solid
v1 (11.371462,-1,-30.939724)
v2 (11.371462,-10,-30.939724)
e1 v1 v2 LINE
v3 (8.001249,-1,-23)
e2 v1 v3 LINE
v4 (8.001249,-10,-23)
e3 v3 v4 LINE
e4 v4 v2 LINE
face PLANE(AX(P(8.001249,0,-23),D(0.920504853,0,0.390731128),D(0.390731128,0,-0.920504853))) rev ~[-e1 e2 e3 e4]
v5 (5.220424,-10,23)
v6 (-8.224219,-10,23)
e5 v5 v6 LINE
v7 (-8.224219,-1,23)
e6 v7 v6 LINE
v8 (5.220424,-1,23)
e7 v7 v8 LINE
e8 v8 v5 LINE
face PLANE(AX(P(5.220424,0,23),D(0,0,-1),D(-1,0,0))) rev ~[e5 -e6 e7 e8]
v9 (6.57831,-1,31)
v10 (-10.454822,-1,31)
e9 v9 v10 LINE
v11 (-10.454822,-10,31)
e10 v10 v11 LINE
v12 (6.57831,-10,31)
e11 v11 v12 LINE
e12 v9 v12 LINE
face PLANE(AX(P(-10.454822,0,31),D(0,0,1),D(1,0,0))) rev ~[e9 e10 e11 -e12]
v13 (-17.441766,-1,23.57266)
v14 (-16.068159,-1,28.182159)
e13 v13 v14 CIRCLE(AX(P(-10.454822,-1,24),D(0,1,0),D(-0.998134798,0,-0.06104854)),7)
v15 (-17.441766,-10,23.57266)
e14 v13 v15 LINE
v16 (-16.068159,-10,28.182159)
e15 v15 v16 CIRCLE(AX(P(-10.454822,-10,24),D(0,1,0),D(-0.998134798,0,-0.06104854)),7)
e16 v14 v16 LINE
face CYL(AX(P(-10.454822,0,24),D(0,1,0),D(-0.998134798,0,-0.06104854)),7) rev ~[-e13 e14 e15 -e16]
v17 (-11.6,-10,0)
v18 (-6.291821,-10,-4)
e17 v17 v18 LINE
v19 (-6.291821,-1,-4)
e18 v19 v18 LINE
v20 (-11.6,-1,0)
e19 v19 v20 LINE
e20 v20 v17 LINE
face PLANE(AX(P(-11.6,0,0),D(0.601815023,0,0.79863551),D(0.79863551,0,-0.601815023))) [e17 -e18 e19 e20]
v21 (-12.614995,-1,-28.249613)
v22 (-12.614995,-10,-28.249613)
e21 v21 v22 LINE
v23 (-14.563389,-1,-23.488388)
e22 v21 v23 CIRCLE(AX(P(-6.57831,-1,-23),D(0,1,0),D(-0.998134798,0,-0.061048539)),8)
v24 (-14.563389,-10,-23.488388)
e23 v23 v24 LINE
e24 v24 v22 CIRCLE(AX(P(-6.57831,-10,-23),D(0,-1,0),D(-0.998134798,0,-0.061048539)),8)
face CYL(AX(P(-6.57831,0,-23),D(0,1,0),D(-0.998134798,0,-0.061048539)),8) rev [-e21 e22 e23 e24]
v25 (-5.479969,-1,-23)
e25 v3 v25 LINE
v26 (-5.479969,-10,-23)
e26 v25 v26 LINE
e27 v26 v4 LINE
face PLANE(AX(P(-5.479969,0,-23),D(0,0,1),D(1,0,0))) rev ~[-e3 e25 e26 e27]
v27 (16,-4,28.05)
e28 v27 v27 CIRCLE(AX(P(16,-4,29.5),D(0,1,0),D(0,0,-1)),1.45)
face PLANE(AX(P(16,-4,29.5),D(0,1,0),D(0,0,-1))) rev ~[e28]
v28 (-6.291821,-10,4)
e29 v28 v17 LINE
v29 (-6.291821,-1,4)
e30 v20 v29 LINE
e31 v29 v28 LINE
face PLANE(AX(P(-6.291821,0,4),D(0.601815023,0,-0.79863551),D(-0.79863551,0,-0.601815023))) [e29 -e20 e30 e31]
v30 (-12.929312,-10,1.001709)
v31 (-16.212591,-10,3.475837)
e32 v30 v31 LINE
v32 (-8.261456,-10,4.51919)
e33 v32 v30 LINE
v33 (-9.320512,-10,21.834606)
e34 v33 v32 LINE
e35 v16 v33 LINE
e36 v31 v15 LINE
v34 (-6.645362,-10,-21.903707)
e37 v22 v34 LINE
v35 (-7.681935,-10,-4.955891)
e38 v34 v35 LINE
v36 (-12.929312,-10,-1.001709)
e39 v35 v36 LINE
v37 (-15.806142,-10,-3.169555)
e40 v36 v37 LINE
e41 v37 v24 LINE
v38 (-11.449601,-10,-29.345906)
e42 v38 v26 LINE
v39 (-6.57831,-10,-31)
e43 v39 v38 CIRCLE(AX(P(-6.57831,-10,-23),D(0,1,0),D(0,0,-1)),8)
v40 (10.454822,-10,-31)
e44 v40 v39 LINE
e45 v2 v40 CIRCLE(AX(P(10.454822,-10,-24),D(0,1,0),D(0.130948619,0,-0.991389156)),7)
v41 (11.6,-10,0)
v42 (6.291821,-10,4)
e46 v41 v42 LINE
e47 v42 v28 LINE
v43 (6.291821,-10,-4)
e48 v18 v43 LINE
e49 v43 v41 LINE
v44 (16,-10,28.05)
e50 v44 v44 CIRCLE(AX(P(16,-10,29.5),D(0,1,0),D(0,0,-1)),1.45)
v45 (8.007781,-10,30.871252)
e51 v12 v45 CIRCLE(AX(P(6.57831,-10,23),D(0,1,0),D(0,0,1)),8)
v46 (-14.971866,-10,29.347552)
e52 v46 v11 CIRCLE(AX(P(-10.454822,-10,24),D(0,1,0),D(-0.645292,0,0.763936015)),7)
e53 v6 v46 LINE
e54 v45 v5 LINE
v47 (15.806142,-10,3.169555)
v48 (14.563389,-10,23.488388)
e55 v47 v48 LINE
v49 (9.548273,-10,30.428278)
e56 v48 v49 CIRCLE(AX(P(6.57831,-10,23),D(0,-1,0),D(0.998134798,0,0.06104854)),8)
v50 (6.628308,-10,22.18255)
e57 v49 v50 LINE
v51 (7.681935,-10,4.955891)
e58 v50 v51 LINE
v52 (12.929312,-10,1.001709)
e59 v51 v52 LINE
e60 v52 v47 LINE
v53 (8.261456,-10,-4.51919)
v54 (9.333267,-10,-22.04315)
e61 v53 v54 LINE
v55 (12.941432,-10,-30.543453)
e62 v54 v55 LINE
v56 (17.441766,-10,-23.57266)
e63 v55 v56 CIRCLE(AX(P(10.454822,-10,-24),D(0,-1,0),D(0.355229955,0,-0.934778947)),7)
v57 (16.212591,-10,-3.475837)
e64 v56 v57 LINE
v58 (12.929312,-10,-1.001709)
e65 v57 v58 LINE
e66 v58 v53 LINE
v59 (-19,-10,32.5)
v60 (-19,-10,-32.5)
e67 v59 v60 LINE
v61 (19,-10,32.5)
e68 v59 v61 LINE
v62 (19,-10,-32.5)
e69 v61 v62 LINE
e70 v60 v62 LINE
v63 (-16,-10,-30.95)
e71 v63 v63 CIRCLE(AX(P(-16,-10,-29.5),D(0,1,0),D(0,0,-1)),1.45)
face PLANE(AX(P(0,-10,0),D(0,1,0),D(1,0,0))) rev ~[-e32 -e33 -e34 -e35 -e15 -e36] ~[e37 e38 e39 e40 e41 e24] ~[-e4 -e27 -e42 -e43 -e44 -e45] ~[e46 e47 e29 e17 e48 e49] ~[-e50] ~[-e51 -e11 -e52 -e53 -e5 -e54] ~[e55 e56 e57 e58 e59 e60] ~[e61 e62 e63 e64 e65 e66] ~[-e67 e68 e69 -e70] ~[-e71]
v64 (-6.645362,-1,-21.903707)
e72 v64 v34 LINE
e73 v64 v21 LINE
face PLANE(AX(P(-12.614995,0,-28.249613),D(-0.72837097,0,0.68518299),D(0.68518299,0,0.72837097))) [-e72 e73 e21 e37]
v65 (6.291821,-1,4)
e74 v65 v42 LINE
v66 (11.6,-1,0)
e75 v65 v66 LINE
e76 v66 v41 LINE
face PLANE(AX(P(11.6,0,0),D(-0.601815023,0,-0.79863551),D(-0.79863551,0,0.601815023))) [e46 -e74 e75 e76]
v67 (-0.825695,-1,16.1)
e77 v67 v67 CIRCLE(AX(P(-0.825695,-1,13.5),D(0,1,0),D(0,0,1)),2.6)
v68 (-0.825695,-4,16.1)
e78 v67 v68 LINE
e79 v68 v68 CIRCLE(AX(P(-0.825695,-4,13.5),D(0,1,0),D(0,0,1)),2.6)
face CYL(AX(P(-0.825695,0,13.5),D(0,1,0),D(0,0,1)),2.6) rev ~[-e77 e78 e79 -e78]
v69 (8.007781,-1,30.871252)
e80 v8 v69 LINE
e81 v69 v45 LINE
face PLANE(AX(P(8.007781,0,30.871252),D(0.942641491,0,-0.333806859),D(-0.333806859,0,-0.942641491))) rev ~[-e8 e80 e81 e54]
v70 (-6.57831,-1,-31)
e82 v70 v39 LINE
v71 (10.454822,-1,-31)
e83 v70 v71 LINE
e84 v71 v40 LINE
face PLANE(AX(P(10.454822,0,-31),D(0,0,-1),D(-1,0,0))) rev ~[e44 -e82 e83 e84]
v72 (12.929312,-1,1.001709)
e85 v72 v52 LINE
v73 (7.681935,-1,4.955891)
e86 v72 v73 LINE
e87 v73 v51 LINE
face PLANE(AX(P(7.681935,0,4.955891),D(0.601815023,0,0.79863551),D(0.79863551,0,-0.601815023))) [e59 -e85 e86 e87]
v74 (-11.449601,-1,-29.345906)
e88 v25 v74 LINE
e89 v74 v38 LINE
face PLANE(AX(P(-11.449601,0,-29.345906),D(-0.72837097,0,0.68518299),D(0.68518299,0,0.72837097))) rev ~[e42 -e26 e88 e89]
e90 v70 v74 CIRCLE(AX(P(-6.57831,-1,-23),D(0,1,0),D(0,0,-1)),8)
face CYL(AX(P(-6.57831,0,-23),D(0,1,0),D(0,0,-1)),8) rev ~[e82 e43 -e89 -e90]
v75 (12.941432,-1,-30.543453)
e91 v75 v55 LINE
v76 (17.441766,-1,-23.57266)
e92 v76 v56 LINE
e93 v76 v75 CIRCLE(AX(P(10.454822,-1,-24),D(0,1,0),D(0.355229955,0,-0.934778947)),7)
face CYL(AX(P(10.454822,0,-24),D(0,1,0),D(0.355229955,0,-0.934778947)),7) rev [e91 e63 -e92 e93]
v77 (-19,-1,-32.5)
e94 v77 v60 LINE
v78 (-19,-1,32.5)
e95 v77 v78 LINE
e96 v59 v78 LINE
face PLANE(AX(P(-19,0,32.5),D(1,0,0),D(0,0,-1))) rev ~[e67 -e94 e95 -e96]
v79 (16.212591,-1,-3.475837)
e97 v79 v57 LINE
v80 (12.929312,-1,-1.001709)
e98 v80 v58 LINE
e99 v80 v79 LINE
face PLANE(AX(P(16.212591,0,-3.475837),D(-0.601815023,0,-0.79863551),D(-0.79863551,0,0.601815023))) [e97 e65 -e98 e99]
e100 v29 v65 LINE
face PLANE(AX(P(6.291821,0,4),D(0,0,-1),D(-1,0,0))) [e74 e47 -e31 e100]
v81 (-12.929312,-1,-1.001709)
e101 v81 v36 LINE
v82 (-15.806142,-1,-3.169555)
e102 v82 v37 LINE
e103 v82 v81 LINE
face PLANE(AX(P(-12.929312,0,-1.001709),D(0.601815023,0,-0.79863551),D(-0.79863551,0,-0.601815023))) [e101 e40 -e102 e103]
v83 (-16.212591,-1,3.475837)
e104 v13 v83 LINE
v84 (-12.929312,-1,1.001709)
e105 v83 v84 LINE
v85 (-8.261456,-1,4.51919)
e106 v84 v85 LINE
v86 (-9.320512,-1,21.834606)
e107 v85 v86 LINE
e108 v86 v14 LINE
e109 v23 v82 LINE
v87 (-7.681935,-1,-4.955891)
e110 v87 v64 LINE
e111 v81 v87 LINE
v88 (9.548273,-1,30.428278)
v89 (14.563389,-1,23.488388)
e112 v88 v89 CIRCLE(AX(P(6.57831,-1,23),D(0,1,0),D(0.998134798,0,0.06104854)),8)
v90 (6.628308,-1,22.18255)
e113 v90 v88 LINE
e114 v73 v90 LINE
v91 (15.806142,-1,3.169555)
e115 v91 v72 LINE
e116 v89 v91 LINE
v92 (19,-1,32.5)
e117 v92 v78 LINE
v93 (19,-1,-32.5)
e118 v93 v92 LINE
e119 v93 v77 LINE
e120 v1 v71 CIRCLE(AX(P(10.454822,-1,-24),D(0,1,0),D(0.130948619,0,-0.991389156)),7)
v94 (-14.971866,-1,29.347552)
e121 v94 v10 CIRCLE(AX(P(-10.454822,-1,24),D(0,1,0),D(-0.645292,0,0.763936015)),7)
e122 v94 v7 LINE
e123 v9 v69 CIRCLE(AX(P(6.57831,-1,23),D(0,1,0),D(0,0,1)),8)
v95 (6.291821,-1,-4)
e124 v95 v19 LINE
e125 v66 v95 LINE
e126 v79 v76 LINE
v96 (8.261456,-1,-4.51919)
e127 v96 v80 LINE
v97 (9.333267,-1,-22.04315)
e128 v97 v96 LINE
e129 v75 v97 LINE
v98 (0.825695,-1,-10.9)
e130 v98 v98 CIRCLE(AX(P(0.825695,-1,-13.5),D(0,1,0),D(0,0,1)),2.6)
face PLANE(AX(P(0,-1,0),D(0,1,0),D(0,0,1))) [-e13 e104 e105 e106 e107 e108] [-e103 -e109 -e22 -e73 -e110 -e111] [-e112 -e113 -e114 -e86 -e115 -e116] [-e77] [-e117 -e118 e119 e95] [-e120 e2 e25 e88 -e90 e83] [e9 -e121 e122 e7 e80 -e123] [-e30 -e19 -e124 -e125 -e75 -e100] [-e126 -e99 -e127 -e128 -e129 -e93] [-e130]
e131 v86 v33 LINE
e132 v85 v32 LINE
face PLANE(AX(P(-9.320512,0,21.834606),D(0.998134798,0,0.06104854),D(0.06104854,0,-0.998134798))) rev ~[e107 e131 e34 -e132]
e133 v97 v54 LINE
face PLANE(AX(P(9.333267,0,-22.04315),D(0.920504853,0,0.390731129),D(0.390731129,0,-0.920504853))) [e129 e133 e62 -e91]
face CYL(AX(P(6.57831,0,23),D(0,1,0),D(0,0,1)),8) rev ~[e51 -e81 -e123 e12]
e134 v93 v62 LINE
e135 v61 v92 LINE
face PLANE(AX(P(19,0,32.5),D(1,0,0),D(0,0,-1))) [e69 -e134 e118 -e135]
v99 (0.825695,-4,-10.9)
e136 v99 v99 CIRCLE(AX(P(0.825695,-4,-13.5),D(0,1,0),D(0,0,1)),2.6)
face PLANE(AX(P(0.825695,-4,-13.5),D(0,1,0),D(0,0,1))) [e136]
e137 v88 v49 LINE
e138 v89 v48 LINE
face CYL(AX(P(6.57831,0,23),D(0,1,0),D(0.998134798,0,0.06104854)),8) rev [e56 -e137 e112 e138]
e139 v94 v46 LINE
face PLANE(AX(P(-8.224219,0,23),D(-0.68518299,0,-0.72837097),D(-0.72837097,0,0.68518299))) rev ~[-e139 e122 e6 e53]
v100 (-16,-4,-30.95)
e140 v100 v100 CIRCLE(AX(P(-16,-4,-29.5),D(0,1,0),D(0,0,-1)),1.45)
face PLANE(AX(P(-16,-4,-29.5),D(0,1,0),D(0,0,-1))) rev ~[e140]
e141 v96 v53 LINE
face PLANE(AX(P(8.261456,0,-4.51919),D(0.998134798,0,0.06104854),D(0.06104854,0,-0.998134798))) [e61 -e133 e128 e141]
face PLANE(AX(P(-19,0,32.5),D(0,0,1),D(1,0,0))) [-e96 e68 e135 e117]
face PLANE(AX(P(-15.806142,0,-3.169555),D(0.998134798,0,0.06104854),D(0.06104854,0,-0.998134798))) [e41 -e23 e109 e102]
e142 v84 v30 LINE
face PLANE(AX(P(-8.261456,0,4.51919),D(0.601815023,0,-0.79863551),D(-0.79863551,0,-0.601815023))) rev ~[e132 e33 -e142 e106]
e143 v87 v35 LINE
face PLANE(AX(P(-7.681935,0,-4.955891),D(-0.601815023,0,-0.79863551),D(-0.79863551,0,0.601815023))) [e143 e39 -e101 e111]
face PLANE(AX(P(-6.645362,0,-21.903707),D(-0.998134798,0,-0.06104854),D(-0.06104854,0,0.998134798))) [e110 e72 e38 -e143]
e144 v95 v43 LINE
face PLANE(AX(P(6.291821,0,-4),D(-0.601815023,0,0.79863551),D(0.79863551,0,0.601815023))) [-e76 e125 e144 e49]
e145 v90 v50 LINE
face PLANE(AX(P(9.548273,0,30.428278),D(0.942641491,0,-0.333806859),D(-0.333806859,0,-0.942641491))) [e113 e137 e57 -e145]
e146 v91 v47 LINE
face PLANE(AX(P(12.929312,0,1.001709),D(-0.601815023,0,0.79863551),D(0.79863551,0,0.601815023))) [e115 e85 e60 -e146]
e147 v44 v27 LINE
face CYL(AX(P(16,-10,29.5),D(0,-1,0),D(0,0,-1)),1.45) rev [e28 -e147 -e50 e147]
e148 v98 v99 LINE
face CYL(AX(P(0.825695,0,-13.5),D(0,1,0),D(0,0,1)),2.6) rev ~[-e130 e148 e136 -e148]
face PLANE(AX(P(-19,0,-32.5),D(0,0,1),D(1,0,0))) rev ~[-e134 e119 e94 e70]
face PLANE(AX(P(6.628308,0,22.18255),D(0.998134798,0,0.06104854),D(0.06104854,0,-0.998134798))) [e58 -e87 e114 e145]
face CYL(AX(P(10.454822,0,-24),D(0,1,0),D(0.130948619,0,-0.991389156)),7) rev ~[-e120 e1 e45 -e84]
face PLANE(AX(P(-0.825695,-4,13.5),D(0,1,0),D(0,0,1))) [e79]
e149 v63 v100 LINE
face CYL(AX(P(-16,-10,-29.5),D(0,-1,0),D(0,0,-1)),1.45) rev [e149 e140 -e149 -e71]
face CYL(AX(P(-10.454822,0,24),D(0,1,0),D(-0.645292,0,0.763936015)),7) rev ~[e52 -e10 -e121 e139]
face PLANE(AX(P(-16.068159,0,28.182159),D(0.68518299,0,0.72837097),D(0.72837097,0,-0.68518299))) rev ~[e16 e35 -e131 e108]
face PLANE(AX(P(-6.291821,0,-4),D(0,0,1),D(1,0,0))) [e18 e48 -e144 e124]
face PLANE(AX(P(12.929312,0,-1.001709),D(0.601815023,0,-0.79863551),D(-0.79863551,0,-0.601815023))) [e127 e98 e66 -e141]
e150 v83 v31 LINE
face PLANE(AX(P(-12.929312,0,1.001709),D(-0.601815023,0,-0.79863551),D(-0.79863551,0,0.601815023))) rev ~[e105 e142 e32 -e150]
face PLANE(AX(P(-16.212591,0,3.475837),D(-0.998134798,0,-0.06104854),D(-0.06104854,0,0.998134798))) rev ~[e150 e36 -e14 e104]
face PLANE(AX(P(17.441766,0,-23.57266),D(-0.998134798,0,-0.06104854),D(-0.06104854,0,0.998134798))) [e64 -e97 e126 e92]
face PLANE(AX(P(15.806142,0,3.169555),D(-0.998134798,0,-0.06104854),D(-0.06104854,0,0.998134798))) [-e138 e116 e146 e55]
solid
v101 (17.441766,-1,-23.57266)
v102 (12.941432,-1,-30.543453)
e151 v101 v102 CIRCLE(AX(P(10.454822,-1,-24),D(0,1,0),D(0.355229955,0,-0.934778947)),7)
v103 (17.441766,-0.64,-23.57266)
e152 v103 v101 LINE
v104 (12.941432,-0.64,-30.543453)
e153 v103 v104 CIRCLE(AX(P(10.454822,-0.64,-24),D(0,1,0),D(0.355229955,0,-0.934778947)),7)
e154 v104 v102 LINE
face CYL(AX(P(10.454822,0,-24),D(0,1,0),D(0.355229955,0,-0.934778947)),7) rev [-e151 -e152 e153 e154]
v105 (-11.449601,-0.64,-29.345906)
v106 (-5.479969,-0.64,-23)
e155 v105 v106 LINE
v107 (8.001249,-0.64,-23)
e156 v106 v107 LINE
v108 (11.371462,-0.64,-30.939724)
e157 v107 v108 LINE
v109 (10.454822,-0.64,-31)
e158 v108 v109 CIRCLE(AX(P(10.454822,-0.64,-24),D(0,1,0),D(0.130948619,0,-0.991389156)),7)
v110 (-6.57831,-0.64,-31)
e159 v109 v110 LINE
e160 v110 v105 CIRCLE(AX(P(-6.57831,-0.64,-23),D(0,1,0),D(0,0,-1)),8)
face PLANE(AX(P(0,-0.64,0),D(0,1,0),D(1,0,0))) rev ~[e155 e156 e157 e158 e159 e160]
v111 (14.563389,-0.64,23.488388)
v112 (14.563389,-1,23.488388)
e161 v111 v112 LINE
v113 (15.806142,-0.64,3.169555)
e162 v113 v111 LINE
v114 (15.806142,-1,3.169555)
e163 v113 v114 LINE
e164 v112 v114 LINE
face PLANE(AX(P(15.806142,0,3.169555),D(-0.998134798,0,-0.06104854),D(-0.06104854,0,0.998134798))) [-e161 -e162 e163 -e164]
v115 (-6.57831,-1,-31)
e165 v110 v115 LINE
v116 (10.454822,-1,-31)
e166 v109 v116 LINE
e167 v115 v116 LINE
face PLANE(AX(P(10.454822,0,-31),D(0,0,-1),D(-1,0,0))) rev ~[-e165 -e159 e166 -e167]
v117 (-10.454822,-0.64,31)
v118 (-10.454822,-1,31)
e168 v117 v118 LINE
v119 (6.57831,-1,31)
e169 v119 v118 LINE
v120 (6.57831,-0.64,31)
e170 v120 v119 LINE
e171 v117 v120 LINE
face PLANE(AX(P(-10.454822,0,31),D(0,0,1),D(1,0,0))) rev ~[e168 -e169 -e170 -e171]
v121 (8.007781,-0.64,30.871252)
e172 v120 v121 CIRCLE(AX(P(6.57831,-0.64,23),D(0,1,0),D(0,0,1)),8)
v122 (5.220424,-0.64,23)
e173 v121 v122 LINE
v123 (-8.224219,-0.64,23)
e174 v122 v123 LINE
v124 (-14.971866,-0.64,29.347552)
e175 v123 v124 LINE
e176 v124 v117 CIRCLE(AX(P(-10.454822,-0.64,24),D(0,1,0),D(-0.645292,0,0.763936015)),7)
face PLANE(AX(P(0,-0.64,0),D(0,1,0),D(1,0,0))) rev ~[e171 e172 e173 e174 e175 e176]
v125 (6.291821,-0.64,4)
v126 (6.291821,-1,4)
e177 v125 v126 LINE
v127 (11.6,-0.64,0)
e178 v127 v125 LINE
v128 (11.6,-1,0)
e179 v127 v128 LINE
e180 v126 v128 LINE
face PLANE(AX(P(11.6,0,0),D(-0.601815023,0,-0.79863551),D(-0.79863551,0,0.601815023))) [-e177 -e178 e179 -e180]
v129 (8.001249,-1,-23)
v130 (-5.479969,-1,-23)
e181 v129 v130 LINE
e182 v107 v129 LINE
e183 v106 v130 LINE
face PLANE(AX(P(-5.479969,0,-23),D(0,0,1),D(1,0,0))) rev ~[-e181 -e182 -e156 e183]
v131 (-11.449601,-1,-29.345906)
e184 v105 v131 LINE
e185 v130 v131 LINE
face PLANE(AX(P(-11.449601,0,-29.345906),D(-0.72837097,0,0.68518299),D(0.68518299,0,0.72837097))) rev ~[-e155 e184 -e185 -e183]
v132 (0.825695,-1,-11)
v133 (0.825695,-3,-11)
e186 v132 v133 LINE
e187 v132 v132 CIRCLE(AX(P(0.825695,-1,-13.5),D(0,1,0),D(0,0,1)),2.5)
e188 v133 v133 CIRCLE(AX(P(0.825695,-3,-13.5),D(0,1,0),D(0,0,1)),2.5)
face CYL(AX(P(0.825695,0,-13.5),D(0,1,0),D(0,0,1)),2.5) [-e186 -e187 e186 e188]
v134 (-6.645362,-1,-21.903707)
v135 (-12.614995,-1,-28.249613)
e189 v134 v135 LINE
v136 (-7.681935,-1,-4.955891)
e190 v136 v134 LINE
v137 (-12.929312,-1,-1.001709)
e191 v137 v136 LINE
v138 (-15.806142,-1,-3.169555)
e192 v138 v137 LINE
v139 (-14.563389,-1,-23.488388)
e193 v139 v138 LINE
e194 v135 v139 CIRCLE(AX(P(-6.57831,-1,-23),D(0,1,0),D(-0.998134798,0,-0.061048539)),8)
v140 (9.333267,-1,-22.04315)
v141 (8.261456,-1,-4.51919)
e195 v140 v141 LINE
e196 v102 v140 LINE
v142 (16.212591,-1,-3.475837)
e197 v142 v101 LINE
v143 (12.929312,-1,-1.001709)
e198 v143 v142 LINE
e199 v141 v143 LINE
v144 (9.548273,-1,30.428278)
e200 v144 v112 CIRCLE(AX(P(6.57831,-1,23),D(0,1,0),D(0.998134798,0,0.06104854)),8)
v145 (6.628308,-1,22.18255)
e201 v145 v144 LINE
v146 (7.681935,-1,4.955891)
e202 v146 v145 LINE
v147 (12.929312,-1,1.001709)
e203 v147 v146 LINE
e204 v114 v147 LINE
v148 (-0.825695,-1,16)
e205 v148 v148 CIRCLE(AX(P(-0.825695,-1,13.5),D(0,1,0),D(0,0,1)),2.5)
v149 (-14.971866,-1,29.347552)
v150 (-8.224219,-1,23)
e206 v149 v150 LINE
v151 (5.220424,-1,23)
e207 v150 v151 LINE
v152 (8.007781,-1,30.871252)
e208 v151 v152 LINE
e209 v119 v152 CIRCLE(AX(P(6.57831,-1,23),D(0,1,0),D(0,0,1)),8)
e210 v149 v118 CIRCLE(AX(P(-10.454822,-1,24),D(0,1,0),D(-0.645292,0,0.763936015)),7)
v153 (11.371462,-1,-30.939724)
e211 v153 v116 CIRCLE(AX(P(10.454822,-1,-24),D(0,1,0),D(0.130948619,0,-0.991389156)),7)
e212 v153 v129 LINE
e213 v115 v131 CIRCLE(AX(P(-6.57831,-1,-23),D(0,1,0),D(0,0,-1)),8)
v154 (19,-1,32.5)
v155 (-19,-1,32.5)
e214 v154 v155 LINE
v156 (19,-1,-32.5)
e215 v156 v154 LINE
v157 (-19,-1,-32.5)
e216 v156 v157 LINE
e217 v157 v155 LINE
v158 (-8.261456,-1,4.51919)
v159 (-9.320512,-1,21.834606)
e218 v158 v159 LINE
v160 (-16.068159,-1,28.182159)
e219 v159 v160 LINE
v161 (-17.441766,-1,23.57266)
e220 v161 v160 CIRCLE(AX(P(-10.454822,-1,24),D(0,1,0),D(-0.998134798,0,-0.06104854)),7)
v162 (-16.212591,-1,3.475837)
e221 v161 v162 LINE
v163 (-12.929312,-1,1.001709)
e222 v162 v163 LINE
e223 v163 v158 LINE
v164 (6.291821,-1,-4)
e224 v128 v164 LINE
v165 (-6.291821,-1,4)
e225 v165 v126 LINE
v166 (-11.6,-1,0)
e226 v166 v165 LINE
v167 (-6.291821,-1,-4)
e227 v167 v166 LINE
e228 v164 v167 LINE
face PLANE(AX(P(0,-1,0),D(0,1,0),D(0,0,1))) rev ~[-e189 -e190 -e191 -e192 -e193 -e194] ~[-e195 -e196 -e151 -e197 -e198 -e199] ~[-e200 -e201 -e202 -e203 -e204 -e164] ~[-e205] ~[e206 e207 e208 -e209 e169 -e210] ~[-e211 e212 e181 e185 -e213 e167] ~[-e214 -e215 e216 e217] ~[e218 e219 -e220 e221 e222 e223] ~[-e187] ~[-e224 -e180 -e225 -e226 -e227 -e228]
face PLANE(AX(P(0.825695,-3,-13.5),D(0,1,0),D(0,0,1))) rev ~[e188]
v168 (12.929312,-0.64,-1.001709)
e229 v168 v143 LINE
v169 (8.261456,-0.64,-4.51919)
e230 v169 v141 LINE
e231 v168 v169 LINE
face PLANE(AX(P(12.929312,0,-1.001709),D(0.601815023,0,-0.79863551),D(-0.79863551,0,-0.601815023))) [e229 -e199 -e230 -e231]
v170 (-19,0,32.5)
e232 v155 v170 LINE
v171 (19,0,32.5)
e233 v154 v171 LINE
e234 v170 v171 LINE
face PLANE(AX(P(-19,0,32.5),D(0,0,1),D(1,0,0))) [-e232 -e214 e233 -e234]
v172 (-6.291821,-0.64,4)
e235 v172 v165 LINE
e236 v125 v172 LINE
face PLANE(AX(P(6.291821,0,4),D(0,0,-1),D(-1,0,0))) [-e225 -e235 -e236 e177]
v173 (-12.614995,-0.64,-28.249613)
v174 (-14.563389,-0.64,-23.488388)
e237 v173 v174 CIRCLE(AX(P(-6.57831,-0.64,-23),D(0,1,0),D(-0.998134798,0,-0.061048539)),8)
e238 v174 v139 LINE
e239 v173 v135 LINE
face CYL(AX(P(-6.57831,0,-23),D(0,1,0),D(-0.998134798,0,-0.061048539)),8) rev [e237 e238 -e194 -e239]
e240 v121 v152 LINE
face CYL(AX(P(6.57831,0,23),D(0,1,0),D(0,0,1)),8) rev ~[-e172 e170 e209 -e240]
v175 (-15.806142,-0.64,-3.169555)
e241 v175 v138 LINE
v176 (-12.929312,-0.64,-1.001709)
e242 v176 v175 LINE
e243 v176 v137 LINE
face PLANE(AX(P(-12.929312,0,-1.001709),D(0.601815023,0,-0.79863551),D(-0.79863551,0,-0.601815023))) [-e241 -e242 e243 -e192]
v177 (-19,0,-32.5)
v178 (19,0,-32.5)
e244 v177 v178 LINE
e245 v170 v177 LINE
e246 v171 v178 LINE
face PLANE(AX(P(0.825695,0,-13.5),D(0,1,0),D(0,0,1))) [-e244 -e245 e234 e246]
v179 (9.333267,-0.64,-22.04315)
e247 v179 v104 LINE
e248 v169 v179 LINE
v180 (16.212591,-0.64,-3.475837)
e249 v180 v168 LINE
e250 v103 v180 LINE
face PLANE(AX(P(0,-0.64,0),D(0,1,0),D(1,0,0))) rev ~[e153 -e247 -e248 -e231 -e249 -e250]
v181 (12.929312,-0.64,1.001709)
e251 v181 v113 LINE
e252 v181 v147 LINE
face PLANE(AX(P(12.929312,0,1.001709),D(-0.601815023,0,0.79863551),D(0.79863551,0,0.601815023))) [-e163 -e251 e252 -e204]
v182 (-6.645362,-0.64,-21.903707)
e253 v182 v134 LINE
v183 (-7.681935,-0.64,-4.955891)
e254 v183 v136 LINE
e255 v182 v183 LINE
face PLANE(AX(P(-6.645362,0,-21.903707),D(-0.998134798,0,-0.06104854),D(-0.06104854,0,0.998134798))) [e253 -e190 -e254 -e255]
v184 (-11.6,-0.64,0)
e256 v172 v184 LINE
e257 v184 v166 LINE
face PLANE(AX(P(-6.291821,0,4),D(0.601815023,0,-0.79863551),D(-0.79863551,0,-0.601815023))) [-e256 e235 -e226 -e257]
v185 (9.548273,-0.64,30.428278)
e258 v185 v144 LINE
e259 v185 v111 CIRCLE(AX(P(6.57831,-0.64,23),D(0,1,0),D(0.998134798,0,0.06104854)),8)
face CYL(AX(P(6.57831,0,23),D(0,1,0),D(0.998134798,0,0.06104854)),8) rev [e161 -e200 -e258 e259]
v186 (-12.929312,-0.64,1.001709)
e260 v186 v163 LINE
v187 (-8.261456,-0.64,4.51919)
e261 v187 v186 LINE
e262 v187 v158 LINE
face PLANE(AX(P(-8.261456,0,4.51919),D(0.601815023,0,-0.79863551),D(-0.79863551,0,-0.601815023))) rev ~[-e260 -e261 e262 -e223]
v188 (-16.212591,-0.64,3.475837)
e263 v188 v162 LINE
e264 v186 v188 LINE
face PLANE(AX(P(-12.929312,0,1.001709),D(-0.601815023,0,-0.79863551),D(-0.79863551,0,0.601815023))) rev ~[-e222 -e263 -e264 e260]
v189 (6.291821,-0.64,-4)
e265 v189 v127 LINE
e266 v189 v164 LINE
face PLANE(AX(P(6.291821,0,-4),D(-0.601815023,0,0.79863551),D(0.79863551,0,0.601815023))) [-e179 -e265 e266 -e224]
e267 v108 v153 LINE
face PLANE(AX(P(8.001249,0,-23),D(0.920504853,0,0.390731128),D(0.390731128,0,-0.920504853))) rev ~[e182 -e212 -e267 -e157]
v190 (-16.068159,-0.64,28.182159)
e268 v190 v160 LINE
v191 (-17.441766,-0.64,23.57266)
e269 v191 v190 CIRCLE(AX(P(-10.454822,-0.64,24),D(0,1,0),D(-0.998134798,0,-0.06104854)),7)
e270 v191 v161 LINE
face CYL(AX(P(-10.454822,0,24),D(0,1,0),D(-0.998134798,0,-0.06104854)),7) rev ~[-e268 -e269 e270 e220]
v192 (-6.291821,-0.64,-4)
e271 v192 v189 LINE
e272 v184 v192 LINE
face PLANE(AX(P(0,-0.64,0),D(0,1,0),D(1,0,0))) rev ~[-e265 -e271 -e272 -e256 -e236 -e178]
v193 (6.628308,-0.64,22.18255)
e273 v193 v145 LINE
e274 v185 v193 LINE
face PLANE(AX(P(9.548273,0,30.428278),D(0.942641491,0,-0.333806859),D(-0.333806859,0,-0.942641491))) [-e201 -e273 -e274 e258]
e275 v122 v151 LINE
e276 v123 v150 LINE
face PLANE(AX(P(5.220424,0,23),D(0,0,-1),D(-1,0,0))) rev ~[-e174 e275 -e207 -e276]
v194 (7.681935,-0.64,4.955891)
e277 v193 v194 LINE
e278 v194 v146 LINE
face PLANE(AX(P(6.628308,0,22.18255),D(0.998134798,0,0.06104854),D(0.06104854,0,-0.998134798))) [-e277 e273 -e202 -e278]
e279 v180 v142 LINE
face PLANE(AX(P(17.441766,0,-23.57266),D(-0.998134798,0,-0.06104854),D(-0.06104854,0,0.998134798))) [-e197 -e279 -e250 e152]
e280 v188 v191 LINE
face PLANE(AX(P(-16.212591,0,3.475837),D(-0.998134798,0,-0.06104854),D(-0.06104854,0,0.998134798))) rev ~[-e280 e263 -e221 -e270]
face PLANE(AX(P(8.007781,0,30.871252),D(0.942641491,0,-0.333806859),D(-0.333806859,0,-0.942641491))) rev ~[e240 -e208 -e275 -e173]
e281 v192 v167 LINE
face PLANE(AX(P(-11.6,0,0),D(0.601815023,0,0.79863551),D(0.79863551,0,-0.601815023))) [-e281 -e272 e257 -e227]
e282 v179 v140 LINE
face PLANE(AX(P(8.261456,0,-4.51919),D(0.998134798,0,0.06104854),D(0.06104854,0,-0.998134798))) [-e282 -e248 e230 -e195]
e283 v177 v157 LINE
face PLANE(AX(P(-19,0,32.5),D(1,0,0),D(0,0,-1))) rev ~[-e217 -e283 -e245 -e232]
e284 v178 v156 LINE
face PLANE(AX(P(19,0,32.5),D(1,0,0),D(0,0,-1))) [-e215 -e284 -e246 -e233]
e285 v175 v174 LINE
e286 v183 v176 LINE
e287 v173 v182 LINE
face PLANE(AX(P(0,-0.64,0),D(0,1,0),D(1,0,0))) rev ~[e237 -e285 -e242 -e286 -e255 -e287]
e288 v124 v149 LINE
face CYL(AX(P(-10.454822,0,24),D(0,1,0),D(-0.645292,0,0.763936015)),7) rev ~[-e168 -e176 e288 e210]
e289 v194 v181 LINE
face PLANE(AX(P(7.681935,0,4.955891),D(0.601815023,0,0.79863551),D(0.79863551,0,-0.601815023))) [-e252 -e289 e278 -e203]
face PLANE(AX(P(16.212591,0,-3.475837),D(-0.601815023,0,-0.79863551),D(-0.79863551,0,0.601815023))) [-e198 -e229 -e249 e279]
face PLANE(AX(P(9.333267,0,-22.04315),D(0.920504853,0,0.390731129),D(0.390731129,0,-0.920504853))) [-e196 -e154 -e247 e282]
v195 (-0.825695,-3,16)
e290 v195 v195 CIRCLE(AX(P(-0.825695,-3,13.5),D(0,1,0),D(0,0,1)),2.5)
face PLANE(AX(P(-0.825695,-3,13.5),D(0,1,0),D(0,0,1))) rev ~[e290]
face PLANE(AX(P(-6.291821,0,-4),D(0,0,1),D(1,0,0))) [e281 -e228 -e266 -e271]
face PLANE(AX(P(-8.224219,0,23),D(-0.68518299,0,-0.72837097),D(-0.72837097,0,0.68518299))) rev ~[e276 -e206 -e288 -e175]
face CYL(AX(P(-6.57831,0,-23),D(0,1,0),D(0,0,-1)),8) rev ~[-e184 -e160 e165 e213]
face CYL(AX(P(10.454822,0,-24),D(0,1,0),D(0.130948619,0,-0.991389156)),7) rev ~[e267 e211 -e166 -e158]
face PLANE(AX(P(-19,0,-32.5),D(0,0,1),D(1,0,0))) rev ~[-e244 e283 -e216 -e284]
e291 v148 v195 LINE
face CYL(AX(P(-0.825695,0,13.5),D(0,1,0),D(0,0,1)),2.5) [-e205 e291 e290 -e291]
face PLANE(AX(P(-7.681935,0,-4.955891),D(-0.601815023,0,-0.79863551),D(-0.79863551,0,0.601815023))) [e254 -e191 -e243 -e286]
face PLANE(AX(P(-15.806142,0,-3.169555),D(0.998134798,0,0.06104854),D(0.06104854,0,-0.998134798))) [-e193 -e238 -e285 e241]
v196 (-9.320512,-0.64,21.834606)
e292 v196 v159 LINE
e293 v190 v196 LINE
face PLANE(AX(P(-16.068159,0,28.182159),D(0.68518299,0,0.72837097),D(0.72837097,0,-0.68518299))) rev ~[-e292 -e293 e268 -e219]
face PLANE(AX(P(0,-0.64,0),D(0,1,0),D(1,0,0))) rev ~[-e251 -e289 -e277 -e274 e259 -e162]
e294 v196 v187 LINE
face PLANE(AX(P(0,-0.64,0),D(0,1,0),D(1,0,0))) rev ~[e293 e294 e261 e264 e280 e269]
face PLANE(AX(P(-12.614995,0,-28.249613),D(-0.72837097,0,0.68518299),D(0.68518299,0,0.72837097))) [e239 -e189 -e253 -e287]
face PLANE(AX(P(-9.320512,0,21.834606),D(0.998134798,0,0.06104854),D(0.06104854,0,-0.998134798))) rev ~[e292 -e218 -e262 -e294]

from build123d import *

# Parameters (mm, degrees)
SKETCH3_W           = 38
SKETCH3_H           = 65
BOSS_EXTRUDE1_DEPTH = 0.64
SKETCH3_3_W         = 38
SKETCH3_3_H         = 65
BOSS_EXTRUDE2_DEPTH = 10
SKETCH6_R           = 2.5
BOSS_EXTRUDE3_DEPTH = 3
SKETCH6_3_R         = 2.6
SKETCH6_3_R_2       = 2.5
CUT_EXTRUDE2_DEPTH  = 4
CUT_EXTRUDE1_START  = -10
SKETCH5_R           = 1.45
CUT_EXTRUDE1_DEPTH  = 6


with BuildPart() as part:
    # Sketch3 → Boss-Extrude1 (new body)
    with BuildSketch(Plane(origin=(0, 0, 0), x_dir=(1, 0, 0), z_dir=(0, 1, 0))):
        Rectangle(SKETCH3_W, SKETCH3_H)
    extrude(amount=-BOSS_EXTRUDE1_DEPTH)

    # Sketch3<3> → Boss-Extrude2 (add)
    with BuildSketch(Plane(origin=(0, 0, 0), x_dir=(1, 0, 0), z_dir=(0, 1, 0))):
        Rectangle(SKETCH3_3_W, SKETCH3_3_H)
        with BuildLine():
            Line((-15.806141704, 3.169555117), (-14.563388627, 23.488388316))
            ThreePointArc((-14.563388627, 23.488388316), (-13.982347964, 26.029888674), (-12.614994756, 28.249613324))
            Line((-12.614994756, 28.249613324), (-6.645362379, 21.903707215))
            Line((-6.645362379, 21.903707215), (-7.681935248, 4.955890615))
            Line((-7.681935248, 4.955890615), (-12.929312113, 1.001708527))
            Line((-12.929312113, 1.001708527), (-15.806141704, 3.169555117))
        make_face(mode=Mode.SUBTRACT)
        with BuildLine():
            Line((-11.449601204, 29.345906109), (-5.479968827, 23))
            Line((-5.479968827, 23), (8.001249484, 23))
            Line((8.001249484, 23), (11.371462409, 30.939724094))
            ThreePointArc((11.371462409, 30.939724094), (10.91413207, 30.984914769), (10.454822074, 31))
            Line((10.454822074, 31), (-6.57831024, 31))
            ThreePointArc((-6.57831024, 31), (-9.150541871, 30.57519798), (-11.449601204, 29.345906109))
        make_face(mode=Mode.SUBTRACT)
        Polygon((-11.6, 0), (-6.291820714, 4), (6.291820714, 4), (11.6, 0), (6.291820714, -4), (-6.291820714, -4), align=None, mode=Mode.SUBTRACT)
        with BuildLine():
            Line((9.333267306, 22.043149873), (12.941431756, 30.543452628))
            ThreePointArc((12.941431756, 30.543452628), (16.335726731, 27.796703889), (17.441765663, 23.572660223))
            Line((17.441765663, 23.572660223), (16.212591289, 3.475836847))
            Line((16.212591289, 3.475836847), (12.929312113, 1.001708527))
            Line((12.929312113, 1.001708527), (8.261456028, 4.519190384))
            Line((8.261456028, 4.519190384), (9.333267306, 22.043149873))
        make_face(mode=Mode.SUBTRACT)
        with BuildLine():
            Line((6.62830762, -22.182550065), (7.681935248, -4.955890615))
            Line((7.681935248, -4.955890615), (12.929312113, -1.001708527))
            Line((12.929312113, -1.001708527), (15.806141704, -3.169555117))
            Line((15.806141704, -3.169555117), (14.563388627, -23.488388316))
            ThreePointArc((14.563388627, -23.488388316), (13.062425539, -27.685749543), (9.548273172, -30.428278413))
            Line((9.548273172, -30.428278413), (6.62830762, -22.182550065))
        make_face(mode=Mode.SUBTRACT)
        with BuildLine():
            Line((8.007780574, -30.871252414), (5.220423905, -23))
            Line((5.220423905, -23), (-8.224219459, -23))
            Line((-8.224219459, -23), (-14.971866072, -29.347552106))
            ThreePointArc((-14.971866072, -29.347552106), (-12.859726985, -30.573920624), (-10.454822074, -31))
            Line((-10.454822074, -31), (6.57831024, -31))
            ThreePointArc((6.57831024, -31), (7.295938517, -30.967748092), (8.007780574, -30.871252414))
        make_face(mode=Mode.SUBTRACT)
        with BuildLine():
            Line((-16.068158856, -28.182158554), (-9.320512244, -21.834606448))
            Line((-9.320512244, -21.834606448), (-8.261456028, -4.519190384))
            Line((-8.261456028, -4.519190384), (-12.929312113, -1.001708527))
            Line((-12.929312113, -1.001708527), (-16.212591289, -3.475836847))
            Line((-16.212591289, -3.475836847), (-17.441765663, -23.572660223))
            ThreePointArc((-17.441765663, -23.572660223), (-17.163296944, -25.999091025), (-16.068158856, -28.182158554))
        make_face(mode=Mode.SUBTRACT)
    extrude(amount=-BOSS_EXTRUDE2_DEPTH)


with BuildPart() as body_2:
    # Split1: the piece on the far side of the plane
    add(part.part)
    split(bisect_by=Plane.ZX.offset(-1), keep=Keep.BOTTOM)

    # Sketch6<3> → Cut-Extrude2 (cut)
    # profile 1 of 4: a face of its own
    with BuildSketch(Plane(origin=(0, 0, 0), x_dir=(1, 0, 0), z_dir=(0, 1, 0))):
        with Locations(Location((0.825695372, 13.5, 0), (0, 0, 270))):
            Circle(SKETCH6_3_R)
        with Locations(Location((0.825695372, 13.5, 0), (0, 0, 270))):
            Circle(SKETCH6_3_R_2, mode=Mode.SUBTRACT)
    # profile 2 of 4: a face of its own
    with BuildSketch(Plane(origin=(0, 0, 0), x_dir=(1, 0, 0), z_dir=(0, 1, 0))):
        with Locations(Location((0.825695372, 13.5, 0), (0, 0, 270))):
            Circle(SKETCH6_3_R_2)
    # profile 3 of 4: a face of its own
    with BuildSketch(Plane(origin=(0, 0, 0), x_dir=(1, 0, 0), z_dir=(0, 1, 0))):
        with Locations(Location((-0.825695372, -13.5, 0), (0, 0, 270))):
            Circle(SKETCH6_3_R)
        with Locations(Location((-0.825695372, -13.5, 0), (0, 0, 270))):
            Circle(SKETCH6_3_R_2, mode=Mode.SUBTRACT)
    # profile 4 of 4: a face of its own
    with BuildSketch(Plane(origin=(0, 0, 0), x_dir=(1, 0, 0), z_dir=(0, 1, 0))):
        with Locations(Location((-0.825695372, -13.5, 0), (0, 0, 270))):
            Circle(SKETCH6_3_R_2)
    extrude(amount=-CUT_EXTRUDE2_DEPTH, mode=Mode.SUBTRACT)

    # Sketch5 → Cut-Extrude1 (cut)
    with BuildSketch(Plane(origin=(0, 0, 0), x_dir=(1, 0, 0), z_dir=(0, 1, 0)).offset(CUT_EXTRUDE1_START)):
        with Locations(Location((-16, 29.5, 0), (0, 0, 90))):
            Circle(SKETCH5_R)
        with Locations(Location((16, -29.5, 0), (0, 0, 90))):
            Circle(SKETCH5_R)
    extrude(amount=CUT_EXTRUDE1_DEPTH, mode=Mode.SUBTRACT)


with BuildPart() as part_1:
    add(part.part)

    # Split1
    split(bisect_by=Plane.ZX.offset(-1), keep=Keep.TOP)

    # Sketch6 → Boss-Extrude3 (add)
    with BuildSketch(Plane(origin=(0, 0, 0), x_dir=(1, 0, 0), z_dir=(0, 1, 0))):
        with Locations(Location((0.825695372, 13.5, 0), (0, 0, 270))):
            Circle(SKETCH6_R)
        with Locations(Location((-0.825695372, -13.5, 0), (0, 0, 270))):
            Circle(SKETCH6_R)
    extrude(amount=-BOSS_EXTRUDE3_DEPTH)


solid = Compound([body_2.part, part_1.part])
